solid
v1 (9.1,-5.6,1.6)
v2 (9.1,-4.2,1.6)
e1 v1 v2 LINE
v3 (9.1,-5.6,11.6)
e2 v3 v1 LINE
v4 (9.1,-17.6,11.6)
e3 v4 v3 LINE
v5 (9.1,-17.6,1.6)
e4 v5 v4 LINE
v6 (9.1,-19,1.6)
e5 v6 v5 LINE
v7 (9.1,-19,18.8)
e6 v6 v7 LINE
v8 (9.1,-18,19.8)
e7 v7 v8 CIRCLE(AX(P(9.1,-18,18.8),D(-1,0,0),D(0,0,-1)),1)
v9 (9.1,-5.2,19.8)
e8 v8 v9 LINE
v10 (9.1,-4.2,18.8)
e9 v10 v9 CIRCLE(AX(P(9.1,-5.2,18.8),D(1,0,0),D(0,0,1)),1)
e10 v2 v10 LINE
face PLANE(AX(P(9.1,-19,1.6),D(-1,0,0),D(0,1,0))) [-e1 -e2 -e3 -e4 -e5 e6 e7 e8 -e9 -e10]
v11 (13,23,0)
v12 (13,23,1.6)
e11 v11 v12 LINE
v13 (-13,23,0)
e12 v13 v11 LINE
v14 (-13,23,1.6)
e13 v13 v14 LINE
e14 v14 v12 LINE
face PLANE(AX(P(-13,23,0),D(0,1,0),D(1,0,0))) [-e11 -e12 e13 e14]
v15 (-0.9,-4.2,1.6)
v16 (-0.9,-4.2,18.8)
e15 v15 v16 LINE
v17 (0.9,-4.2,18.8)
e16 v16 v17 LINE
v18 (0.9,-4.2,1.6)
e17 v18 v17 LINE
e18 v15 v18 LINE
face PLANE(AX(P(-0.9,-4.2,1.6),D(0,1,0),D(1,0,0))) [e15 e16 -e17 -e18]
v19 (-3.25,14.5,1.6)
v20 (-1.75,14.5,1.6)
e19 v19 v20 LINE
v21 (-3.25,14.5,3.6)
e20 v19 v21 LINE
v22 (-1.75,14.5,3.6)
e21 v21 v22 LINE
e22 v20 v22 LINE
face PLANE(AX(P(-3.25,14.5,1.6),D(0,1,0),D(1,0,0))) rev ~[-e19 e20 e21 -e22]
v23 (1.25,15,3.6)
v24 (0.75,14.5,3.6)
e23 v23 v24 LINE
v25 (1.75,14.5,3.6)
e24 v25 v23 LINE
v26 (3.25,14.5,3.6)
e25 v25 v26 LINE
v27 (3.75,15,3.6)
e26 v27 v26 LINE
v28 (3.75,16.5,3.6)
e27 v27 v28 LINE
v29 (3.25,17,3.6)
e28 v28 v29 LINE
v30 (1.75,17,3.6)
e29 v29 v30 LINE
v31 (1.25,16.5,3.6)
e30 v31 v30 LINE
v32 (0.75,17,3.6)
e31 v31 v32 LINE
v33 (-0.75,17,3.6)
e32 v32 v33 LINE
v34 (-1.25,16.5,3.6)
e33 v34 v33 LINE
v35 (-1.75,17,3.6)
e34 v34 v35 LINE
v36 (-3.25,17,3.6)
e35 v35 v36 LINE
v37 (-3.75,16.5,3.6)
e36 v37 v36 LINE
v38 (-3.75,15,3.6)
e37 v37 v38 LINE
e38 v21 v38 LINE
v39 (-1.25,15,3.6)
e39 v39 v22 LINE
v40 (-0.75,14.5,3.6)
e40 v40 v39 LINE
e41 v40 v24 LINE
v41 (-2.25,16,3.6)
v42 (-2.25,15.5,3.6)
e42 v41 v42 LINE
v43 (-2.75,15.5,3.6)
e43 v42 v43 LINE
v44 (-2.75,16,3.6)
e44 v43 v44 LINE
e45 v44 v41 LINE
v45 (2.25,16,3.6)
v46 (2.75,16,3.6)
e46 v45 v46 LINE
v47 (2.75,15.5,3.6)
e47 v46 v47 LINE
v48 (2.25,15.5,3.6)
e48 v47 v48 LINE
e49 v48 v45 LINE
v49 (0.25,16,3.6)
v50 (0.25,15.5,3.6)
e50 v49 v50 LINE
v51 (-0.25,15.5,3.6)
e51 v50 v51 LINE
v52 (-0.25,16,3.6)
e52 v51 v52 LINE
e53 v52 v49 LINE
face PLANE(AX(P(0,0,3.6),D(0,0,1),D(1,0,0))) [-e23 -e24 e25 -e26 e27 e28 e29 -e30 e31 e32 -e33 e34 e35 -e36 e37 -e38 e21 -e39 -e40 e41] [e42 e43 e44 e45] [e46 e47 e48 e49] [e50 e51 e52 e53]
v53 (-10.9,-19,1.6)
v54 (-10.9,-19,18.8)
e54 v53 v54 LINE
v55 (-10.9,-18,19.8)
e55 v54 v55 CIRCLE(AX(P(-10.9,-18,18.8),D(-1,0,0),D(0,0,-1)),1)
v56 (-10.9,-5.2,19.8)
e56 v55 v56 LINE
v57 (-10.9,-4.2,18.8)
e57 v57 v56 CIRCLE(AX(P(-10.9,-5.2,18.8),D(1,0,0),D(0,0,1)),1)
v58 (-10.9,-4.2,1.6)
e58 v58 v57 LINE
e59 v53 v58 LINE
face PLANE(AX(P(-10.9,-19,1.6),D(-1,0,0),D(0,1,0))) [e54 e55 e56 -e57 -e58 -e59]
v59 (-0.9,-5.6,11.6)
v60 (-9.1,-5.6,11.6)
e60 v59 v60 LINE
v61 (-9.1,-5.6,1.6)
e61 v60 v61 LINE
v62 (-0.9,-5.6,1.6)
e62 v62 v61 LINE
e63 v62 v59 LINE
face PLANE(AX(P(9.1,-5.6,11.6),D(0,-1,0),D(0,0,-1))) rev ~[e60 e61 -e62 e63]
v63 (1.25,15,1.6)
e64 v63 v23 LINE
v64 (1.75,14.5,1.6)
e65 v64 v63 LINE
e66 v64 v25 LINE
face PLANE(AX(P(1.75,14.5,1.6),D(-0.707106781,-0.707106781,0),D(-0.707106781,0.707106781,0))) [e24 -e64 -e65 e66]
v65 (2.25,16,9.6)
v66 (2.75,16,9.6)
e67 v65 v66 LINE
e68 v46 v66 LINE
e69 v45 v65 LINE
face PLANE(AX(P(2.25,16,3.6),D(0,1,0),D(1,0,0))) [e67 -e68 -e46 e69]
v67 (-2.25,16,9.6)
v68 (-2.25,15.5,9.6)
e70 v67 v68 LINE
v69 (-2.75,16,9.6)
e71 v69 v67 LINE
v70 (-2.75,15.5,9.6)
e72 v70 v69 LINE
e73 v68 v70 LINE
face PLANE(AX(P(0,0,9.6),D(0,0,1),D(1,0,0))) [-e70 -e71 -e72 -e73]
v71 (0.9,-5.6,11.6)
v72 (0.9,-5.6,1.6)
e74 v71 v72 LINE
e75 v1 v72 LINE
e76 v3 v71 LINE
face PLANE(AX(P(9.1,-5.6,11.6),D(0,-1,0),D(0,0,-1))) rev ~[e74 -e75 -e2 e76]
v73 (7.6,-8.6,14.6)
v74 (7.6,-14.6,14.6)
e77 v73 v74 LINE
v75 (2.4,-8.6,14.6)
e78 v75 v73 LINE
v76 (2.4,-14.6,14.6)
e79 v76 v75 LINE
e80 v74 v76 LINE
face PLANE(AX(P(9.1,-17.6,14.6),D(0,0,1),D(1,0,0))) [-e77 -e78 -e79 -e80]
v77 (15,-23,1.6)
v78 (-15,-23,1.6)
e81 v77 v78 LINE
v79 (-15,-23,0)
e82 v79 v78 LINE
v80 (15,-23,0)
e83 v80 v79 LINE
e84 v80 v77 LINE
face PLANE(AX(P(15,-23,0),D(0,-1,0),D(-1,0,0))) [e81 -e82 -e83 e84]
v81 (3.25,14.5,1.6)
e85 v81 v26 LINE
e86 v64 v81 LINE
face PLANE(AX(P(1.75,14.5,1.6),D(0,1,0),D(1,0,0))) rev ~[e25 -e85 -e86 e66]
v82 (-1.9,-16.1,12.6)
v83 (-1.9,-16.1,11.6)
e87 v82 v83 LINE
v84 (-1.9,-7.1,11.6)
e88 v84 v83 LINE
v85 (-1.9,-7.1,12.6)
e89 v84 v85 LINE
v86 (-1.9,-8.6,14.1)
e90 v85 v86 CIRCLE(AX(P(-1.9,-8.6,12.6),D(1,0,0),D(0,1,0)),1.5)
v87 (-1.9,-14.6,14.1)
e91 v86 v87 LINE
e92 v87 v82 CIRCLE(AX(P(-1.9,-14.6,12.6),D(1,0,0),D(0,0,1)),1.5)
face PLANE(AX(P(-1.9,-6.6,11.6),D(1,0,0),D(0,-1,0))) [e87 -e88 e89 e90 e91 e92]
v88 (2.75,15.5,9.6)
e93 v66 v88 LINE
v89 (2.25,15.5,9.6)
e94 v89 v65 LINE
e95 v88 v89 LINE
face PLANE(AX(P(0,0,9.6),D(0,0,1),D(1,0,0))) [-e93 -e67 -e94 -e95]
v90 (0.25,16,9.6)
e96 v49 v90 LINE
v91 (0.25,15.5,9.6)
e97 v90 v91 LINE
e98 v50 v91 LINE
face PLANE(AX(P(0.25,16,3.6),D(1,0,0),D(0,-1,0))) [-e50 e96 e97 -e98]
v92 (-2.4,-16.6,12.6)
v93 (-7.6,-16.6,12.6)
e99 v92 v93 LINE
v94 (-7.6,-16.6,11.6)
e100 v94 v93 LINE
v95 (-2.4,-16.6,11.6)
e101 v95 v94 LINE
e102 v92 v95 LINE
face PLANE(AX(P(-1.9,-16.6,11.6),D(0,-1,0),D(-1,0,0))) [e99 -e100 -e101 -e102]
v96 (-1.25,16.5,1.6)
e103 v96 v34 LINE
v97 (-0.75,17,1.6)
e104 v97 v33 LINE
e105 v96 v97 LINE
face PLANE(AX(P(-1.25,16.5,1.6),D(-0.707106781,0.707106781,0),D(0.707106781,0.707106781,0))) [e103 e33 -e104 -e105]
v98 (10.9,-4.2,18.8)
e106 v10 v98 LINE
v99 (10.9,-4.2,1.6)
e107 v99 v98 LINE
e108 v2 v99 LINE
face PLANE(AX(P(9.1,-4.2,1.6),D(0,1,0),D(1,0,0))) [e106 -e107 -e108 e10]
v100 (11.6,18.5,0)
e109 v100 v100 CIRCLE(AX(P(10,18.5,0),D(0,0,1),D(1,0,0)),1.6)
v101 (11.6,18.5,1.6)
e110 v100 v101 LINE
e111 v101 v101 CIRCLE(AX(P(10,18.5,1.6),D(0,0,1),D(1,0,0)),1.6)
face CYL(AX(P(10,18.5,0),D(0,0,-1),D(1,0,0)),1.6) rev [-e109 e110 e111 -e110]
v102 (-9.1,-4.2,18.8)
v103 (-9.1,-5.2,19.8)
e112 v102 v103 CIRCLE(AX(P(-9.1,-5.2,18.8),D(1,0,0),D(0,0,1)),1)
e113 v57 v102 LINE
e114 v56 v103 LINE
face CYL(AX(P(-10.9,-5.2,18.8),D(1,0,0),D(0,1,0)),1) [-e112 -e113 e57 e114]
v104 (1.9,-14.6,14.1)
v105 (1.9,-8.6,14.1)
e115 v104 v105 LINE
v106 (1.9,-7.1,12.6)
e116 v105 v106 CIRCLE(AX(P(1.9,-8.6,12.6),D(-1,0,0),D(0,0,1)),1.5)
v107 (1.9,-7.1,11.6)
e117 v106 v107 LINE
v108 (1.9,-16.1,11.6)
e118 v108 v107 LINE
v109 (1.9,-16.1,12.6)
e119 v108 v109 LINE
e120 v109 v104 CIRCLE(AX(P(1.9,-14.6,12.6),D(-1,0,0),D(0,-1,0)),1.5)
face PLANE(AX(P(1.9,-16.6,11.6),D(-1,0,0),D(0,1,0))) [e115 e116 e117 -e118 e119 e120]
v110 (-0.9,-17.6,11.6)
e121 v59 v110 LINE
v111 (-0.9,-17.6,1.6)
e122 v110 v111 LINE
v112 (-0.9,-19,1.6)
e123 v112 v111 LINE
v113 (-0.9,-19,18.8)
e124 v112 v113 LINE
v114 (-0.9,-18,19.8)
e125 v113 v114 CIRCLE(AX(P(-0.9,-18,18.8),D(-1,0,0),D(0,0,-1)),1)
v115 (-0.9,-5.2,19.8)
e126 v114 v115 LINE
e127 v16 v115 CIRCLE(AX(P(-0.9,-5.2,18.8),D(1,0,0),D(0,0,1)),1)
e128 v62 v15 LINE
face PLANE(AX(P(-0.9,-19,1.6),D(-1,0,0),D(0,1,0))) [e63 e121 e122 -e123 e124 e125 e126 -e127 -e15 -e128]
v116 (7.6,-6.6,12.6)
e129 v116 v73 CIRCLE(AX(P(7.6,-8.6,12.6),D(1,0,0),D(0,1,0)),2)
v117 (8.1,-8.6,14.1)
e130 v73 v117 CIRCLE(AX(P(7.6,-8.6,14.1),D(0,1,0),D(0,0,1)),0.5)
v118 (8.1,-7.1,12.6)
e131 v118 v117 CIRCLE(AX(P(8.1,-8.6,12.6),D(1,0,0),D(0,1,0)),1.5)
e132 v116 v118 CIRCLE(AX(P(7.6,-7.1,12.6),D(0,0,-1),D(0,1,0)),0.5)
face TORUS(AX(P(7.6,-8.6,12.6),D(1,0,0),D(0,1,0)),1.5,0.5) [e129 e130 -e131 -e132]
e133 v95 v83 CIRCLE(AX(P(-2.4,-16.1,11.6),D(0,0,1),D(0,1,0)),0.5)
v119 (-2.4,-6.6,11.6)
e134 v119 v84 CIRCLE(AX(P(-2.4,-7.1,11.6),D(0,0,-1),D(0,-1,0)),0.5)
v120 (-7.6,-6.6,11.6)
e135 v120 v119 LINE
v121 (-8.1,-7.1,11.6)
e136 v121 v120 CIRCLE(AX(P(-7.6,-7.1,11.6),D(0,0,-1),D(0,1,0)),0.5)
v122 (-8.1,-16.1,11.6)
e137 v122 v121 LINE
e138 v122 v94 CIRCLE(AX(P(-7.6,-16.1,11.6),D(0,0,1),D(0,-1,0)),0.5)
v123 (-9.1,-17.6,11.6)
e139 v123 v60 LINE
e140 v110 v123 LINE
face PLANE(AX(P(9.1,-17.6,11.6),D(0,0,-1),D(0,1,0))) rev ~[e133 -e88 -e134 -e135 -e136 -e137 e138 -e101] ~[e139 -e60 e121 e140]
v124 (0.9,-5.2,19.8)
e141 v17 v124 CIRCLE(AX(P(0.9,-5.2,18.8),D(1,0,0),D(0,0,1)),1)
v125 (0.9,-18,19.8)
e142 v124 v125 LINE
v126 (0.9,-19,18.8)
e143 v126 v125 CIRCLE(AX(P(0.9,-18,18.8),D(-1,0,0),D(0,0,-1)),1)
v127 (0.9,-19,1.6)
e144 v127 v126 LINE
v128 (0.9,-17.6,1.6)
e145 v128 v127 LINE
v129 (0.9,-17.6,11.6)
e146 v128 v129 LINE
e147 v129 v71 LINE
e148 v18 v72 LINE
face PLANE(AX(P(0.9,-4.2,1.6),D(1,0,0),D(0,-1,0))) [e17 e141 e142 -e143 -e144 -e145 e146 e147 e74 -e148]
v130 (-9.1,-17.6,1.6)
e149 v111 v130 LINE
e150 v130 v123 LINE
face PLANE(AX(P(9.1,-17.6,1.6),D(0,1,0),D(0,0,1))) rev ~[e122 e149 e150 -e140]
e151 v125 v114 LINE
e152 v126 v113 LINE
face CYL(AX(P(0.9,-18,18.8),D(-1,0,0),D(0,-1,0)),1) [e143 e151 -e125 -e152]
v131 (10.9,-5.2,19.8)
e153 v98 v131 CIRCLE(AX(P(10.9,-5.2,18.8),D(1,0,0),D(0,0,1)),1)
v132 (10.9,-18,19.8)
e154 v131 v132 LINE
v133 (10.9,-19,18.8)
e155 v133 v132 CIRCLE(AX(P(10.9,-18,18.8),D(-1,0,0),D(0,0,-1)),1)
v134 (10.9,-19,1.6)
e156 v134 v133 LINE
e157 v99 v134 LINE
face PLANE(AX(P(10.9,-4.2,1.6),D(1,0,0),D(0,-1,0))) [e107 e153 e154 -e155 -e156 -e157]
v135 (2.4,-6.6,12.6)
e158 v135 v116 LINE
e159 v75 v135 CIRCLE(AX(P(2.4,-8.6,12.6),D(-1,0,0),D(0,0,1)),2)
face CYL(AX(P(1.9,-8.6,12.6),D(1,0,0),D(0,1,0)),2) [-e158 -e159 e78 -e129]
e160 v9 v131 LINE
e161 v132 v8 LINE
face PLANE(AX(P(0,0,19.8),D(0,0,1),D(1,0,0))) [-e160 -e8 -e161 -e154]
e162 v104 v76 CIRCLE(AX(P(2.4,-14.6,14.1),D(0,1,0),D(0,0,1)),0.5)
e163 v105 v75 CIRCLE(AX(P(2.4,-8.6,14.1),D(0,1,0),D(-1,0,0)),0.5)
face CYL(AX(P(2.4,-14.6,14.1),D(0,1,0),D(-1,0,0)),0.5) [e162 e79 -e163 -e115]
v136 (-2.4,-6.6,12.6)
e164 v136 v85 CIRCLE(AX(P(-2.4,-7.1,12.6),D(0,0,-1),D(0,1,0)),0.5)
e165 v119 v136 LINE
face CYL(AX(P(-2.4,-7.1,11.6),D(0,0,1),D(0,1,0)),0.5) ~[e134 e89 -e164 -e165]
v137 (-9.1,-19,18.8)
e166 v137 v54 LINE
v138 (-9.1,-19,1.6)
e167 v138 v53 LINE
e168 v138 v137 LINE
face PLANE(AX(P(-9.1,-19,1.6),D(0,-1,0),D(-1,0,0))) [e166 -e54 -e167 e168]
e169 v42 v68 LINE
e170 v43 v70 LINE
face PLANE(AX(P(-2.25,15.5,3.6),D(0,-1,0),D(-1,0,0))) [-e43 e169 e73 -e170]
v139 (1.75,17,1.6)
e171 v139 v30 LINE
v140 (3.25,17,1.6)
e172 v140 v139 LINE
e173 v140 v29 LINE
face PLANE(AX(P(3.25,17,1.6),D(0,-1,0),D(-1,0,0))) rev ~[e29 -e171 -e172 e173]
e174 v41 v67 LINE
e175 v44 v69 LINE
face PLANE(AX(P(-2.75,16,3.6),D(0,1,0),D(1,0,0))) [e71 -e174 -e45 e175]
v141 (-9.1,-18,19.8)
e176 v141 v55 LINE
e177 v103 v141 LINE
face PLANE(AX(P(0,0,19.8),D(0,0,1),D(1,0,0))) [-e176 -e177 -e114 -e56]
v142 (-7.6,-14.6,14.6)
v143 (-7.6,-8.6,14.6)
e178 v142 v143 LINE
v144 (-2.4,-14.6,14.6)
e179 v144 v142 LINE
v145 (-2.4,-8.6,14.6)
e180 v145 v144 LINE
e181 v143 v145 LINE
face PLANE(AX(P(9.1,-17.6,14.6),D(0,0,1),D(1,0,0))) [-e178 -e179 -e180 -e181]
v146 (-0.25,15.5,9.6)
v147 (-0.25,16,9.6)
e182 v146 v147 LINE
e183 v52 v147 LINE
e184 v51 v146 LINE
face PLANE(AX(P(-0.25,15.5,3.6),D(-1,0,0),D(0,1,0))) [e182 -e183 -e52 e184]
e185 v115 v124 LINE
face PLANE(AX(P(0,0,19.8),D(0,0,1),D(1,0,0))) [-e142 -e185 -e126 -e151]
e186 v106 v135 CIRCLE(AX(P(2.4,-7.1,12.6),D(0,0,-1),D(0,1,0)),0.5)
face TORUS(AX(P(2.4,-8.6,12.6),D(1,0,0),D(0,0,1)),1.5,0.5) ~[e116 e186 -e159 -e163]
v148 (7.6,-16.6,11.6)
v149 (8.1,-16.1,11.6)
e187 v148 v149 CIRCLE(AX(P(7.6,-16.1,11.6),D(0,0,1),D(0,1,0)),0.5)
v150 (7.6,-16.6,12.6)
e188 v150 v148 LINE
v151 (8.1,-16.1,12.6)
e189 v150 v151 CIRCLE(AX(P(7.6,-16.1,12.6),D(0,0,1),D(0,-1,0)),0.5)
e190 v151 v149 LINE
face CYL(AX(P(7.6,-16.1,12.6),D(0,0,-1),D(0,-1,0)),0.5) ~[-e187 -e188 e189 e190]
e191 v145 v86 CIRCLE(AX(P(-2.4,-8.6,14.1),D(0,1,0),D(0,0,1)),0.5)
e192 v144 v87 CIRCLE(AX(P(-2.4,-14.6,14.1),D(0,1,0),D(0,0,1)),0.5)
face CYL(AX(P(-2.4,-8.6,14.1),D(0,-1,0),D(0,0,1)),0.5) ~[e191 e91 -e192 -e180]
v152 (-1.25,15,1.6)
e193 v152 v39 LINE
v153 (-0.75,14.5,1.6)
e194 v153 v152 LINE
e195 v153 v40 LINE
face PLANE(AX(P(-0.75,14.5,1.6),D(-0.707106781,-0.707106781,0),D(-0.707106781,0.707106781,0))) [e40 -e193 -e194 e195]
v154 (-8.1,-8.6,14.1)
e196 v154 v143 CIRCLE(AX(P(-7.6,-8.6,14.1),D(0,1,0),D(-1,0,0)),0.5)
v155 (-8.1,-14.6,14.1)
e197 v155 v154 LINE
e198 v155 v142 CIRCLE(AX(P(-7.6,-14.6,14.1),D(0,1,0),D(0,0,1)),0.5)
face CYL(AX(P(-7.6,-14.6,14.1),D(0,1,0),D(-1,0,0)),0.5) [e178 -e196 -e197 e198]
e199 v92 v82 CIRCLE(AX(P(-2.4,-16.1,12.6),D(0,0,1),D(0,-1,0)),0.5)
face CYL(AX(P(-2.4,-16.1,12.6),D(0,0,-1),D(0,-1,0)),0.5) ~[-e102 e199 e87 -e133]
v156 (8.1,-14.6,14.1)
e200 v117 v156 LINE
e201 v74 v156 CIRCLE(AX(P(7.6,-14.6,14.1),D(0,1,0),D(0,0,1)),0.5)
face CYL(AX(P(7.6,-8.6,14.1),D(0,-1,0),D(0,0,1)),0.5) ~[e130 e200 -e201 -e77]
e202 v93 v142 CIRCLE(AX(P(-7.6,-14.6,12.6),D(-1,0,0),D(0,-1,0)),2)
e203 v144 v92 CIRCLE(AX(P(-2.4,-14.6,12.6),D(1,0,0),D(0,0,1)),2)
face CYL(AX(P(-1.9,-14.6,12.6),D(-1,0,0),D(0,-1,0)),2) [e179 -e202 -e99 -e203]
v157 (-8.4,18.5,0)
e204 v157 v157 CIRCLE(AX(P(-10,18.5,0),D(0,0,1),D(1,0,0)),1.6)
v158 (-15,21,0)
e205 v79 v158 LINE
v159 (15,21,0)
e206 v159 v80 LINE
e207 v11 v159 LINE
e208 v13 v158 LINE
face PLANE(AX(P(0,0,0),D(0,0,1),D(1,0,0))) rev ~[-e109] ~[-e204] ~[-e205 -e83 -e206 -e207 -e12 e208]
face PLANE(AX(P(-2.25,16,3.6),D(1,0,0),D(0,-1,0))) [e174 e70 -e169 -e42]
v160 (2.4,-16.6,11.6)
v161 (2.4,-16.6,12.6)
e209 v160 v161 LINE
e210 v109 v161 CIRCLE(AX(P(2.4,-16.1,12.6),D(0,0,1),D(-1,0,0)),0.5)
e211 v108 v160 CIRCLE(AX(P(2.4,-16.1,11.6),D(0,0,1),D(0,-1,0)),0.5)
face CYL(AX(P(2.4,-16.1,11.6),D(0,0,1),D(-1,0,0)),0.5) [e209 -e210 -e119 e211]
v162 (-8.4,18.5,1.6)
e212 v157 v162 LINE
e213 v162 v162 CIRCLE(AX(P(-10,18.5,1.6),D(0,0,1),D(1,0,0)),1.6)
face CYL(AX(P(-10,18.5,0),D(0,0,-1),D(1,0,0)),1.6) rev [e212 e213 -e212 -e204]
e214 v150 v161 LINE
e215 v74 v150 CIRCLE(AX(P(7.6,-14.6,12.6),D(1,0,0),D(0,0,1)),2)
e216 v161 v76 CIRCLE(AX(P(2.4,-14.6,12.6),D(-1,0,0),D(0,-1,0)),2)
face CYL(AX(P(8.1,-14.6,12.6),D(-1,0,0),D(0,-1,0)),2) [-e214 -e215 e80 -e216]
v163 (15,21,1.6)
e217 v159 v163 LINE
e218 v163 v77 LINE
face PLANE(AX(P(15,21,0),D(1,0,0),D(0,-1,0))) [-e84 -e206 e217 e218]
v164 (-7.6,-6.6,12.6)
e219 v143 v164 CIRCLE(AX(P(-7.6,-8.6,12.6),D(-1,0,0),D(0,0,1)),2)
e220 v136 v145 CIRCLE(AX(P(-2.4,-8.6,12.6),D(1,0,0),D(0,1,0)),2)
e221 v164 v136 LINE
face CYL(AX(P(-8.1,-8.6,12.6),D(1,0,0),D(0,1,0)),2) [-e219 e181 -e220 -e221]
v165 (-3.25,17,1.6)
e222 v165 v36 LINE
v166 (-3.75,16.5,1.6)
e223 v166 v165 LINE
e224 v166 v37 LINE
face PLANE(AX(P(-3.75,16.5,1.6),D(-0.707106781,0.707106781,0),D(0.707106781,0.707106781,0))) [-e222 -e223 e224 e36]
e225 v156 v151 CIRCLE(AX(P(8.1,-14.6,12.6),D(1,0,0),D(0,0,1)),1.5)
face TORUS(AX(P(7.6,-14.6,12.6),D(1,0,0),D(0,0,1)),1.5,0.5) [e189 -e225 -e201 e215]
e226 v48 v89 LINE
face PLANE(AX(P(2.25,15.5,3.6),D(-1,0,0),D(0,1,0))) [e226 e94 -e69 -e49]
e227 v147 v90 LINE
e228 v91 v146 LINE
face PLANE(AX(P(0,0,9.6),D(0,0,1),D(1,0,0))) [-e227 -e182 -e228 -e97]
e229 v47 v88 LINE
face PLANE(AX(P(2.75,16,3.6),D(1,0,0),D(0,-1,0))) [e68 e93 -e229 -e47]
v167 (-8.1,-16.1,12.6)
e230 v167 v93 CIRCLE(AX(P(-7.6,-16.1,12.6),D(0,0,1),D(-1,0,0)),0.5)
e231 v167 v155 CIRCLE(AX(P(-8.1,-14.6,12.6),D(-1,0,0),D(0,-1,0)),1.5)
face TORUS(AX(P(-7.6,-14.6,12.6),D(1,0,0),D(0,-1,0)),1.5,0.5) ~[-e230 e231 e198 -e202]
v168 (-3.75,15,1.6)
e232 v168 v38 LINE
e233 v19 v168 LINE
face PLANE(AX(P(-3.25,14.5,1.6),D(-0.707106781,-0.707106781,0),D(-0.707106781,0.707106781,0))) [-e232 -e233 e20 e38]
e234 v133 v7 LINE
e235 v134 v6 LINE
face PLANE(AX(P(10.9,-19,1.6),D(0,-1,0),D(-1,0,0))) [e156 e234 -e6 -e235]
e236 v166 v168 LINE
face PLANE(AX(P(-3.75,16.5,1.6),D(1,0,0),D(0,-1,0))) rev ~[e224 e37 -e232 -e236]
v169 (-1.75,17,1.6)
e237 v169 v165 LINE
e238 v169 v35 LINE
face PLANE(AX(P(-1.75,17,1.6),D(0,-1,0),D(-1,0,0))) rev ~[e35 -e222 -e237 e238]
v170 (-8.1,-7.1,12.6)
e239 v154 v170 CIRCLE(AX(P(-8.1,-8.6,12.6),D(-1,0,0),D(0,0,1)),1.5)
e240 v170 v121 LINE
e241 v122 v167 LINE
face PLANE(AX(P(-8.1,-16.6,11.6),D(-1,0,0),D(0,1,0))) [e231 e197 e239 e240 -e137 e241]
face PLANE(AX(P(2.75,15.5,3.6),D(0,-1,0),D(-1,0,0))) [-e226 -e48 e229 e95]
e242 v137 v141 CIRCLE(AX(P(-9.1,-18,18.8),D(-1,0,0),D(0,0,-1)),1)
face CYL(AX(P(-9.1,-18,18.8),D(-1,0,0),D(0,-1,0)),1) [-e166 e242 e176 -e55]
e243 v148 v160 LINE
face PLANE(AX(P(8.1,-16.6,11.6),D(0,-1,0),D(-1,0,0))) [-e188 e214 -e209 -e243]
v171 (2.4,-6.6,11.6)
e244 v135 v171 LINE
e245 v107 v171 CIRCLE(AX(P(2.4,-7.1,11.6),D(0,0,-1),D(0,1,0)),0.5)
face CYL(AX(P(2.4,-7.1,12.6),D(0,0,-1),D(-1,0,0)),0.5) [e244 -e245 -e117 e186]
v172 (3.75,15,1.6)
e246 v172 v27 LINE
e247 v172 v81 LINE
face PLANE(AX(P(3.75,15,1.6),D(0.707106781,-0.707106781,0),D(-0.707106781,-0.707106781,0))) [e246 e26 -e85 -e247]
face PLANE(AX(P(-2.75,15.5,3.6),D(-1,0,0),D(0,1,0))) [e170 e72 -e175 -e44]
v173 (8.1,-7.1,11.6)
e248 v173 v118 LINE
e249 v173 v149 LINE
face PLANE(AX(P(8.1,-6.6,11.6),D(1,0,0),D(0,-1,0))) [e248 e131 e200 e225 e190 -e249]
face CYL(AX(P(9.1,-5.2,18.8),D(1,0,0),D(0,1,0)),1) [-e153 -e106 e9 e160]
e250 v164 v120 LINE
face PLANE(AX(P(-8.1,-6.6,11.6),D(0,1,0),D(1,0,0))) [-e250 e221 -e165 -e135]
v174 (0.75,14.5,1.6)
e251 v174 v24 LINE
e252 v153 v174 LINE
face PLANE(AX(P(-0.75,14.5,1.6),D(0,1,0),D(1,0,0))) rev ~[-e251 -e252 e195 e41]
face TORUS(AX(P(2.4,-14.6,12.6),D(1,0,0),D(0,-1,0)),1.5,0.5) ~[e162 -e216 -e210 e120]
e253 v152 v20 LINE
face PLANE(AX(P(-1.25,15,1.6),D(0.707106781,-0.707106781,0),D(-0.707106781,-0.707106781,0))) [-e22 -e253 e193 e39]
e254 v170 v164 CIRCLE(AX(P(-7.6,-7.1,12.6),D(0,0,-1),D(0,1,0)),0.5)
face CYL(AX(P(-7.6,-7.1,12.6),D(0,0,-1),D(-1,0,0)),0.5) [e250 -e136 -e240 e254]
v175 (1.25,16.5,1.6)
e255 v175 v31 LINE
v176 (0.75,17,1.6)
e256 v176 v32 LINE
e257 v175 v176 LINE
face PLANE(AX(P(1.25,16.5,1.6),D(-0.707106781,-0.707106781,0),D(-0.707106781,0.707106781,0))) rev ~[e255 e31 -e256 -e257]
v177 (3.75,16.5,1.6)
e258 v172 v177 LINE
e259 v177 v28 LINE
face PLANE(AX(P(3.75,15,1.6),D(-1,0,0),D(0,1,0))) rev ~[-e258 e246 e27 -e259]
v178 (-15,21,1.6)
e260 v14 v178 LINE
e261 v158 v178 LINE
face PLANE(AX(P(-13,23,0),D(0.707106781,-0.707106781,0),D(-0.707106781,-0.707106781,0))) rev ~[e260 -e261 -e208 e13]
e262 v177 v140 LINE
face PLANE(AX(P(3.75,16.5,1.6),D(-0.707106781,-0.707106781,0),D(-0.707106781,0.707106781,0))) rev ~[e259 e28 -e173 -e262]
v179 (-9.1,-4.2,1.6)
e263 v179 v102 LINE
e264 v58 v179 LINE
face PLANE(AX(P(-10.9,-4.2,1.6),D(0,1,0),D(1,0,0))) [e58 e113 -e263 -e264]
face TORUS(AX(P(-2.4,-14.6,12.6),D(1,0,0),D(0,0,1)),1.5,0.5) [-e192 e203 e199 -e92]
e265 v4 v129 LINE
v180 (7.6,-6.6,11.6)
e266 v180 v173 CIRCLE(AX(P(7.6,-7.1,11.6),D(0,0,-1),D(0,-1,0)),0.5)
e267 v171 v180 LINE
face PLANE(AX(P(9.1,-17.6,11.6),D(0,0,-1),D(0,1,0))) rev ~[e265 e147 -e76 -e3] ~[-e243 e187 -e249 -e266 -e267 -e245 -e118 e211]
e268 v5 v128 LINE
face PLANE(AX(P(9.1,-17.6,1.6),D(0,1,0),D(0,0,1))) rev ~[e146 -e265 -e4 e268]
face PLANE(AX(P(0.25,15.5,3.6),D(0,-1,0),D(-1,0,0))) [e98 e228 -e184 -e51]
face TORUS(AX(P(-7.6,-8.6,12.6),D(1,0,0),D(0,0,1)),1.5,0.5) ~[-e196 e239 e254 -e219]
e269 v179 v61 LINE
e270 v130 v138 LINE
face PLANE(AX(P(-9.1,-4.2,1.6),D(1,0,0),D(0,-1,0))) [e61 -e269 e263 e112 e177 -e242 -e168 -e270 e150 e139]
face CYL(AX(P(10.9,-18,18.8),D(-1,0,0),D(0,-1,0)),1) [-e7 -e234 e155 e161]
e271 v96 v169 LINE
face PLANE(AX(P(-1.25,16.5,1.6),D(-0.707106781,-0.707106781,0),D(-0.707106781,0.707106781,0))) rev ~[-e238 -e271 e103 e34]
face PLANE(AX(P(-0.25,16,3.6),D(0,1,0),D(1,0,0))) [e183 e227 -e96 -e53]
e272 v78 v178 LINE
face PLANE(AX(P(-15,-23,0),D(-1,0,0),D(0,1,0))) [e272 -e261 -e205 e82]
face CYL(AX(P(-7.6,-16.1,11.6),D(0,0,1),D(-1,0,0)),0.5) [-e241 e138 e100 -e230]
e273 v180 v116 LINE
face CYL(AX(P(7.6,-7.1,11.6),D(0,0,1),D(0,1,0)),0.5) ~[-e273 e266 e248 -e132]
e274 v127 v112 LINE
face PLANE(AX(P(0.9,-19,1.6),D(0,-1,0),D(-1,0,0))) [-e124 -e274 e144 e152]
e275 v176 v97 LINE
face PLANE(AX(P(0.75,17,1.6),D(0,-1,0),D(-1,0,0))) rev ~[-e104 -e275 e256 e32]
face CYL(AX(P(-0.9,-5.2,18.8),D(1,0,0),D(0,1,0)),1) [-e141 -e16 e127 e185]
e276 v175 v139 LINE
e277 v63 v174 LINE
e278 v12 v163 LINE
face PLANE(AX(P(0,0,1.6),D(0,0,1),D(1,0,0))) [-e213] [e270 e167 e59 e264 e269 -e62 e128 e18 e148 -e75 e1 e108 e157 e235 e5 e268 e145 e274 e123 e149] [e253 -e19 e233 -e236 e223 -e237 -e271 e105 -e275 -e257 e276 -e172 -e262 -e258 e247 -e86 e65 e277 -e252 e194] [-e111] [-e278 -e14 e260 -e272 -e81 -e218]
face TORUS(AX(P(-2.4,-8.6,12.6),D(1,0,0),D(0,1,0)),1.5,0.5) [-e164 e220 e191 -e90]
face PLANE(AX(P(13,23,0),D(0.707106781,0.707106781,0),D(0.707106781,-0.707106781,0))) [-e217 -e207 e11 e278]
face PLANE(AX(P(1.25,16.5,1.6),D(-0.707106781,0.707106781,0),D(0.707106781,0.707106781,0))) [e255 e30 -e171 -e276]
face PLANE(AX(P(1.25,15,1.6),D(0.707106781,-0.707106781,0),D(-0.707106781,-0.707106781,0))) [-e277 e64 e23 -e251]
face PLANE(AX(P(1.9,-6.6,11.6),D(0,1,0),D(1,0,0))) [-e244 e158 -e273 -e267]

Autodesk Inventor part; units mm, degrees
ref_plane "YZ Plane" through (0, 0, 0) normal (1, 0, 0) x (0, 1, 0)
ref_plane "XZ Plane" through (0, 0, 0) normal (0, 1, 0) x (-1, 0, 0)
ref_plane "XY Plane" through (0, 0, 0) normal (0, 0, 1) x (1, 0, 0)
sketch "Sketch1" plane through (0, 0, 0) normal (0, 0, 1) x (1, 0, 0)
  line L0 (-13, 23) -> (13, 23)
  line L1 (15, 21) -> (15, -23)
  line L2 (15, -23) -> (-15, -23)
  line L3 (-15, -23) -> (-15, 21)
  line L4 (-15, 23) -> (15, -23) construction
  line L5 (15, 23) -> (-15, -23) construction
  line L6 (-13, 23) -> (-15, 21)
  line L7 (13, 23) -> (15, 21)
  circle A0 centre (-10, 18.5) radius 1.6
  circle A1 centre (10, 18.5) radius 1.6
  line L8 (10, 18.5) -> (-10, 18.5) construction
  point P0 (0, 0)
  point P1 (0, 18.5)
  point P2 (0, 0)
  dimension "d0" = 30
  dimension "d1" = 46
  dimension "d2" = 2
  dimension "d3" = 2
  dimension "d4" = 2
  dimension "d5" = 2
  dimension "d6" = 3.2
  dimension "d7" = 20
  dimension "d8" = 4.5
extrude "Extrusion1" add sketch "Sketch1" along normal blind 1.6
sketch "Sketch2" plane through (0, 0, 1.6) normal (0, 0, 1) x (1, 0, 0)
  line L0 (10.9, -19) -> (9.1, -19)
  line L1 (9.1, -19) -> (9.1, -4.2)
  line L2 (9.1, -4.2) -> (10.9, -4.2)
  line L3 (10.9, -4.2) -> (10.9, -19)
  line L4 (0.9, -19) -> (-0.9, -19)
  line L5 (-0.9, -19) -> (-0.9, -4.2)
  line L6 (-0.9, -4.2) -> (0.9, -4.2)
  line L7 (0.9, -4.2) -> (0.9, -19)
  line L8 (-9.1, -19) -> (-10.9, -19)
  line L9 (-10.9, -19) -> (-10.9, -4.2)
  line L10 (-10.9, -4.2) -> (-9.1, -4.2)
  line L11 (-9.1, -4.2) -> (-9.1, -19)
  line L12 (-15, 21) -> (-15, -23) projected
  line L13 (-15, -23) -> (15, -23) projected
  line L14 (15, -23) -> (15, 21) projected
  line L15 (15, 21) -> (13, 23) projected
  line L16 (13, 23) -> (-13, 23) projected
  line L17 (-13, 23) -> (-15, 21) projected
  circle A0 centre (10, 18.5) radius 1.6 projected
  circle A1 centre (-10, 18.5) radius 1.6 projected
  line L18 (-0.9, -4.2) -> (0.9, -19) construction
  line L19 (0.9, -4.2) -> (-0.9, -19) construction
  line L20 (10.9, -4.2) -> (9.1, -19) construction
  line L21 (9.1, -4.2) -> (10.9, -19) construction
  line L22 (-10.9, -4.2) -> (-9.1, -19) construction
  line L23 (-9.1, -4.2) -> (-10.9, -19) construction
  point P0 (0, 0)
  point P1 (0, -11.6)
  dimension "d11" = 1.8
  dimension "d12" = 14.8
  dimension "d13" = 4
  dimension "d14" = 8.2
  dimension "d15" = 8.2
extrude "Extrusion2" add sketch "Sketch2" along normal blind 18.2 contours L0 L1 L2 L3 | L4 L5 L6 L7 | L8 L9 L10 L11
fillet "Fillet1" radius 1 6 edges at (-10, -19, 19.8) (-10, -4.2, 19.8) (0, -4.2, 19.8) (0, -19, 19.8) (10, -19, 19.8) (10, -4.2, 19.8)
sketch "Sketch3" plane through (9.1, -19, 1.6) normal (-1, 0, 0) x (0, 0, 1)
  arc A0 (18.2, 13.8) -> (17.2, 14.8) centre (17.2, 13.8) ccw projected
  line L0 (0, 14.8) -> (17.2, 14.8) projected
  line L1 (0, 0) -> (0, 14.8) projected
  line L2 (0, 0) -> (17.2, 0) projected
  arc A1 (17.2, 0) -> (18.2, 1) centre (17.2, 1) ccw projected
  line L3 (18.2, 13.8) -> (18.2, 1) projected
  line L4 (0, 0) -> (0, 14.8) projected
  line L5 (10, 13.4) -> (0, 13.4)
  line L6 (0, 13.4) -> (0, 1.4)
  line L7 (0, 1.4) -> (10, 1.4)
  line L8 (10, 1.4) -> (10, 13.4)
  line L9 (10, 13.4) -> (0, 1.4) construction
  line L10 (0, 13.4) -> (10, 1.4) construction
  point P0 (-1.6, 19)
  point P1 (5, 7.4)
  point P2 (5, 7.4)
  point P3 (18.2, 7.4)
  point P4 (0, 13.4)
  point P5 (0, 1.4)
  dimension "d19" = 10
  dimension "d20" = 12
extrude "Extrusion3" add sketch "Sketch3" along normal up to surface (18.2 mm away) contours L5 L8 L7 L1
sketch "Sketch4" plane through (0, 0, 1.6) normal (0, 0, 1) x (1, 0, 0)
  circle A0 centre (-10, 18.5) radius 1.6 projected
  circle A1 centre (10, 18.5) radius 1.6 projected
  line L0 (-15, 21) -> (-15, -23) projected
  line L1 (-15, -23) -> (15, -23) projected
  line L2 (15, -23) -> (15, 21) projected
  line L3 (15, 21) -> (13, 23) projected
  line L4 (13, 23) -> (-13, 23) projected
  line L5 (-13, 23) -> (-15, 21) projected
  line L6 (-0.9, -17.6) -> (-9.1, -17.6) projected
  line L7 (-9.1, -17.6) -> (-9.1, -19) projected
  line L8 (-9.1, -19) -> (-10.9, -19) projected
  line L9 (-10.9, -19) -> (-10.9, -4.2) projected
  line L10 (-10.9, -4.2) -> (-9.1, -4.2) projected
  line L11 (-9.1, -4.2) -> (-9.1, -5.6) projected
  line L12 (-9.1, -5.6) -> (-0.9, -5.6) projected
  line L13 (-0.9, -5.6) -> (-0.9, -4.2) projected
  line L14 (-0.9, -4.2) -> (0.9, -4.2) projected
  line L15 (0.9, -4.2) -> (0.9, -5.6) projected
  line L16 (0.9, -5.6) -> (9.1, -5.6) projected
  line L17 (9.1, -5.6) -> (9.1, -4.2) projected
  line L18 (9.1, -4.2) -> (10.9, -4.2) projected
  line L19 (10.9, -4.2) -> (10.9, -19) projected
  line L20 (10.9, -19) -> (9.1, -19) projected
  line L21 (9.1, -19) -> (9.1, -17.6) projected
  line L22 (9.1, -17.6) -> (0.9, -17.6) projected
  line L23 (0.9, -17.6) -> (0.9, -19) projected
  line L24 (0.9, -19) -> (-0.9, -19) projected
  line L25 (-0.9, -19) -> (-0.9, -17.6) projected
  line L26 (0.75, 17) -> (-0.75, 17)
  line L27 (-1.25, 16.5) -> (-1.25, 15)
  line L28 (-0.75, 14.5) -> (0.75, 14.5)
  line L29 (1.25, 15) -> (1.25, 16.5)
  line L30 (1.25, 16.5) -> (0.75, 17)
  line L31 (1.25, 15) -> (0.75, 14.5)
  line L32 (-0.75, 14.5) -> (-1.25, 15)
  line L33 (-1.25, 16.5) -> (-0.75, 17)
  line L34 (-3.75, 16.5) -> (-3.25, 17)
  line L35 (-3.75, 16.5) -> (-3.75, 15)
  line L36 (-3.25, 14.5) -> (-3.75, 15)
  line L37 (-1.75, 17) -> (-3.25, 17)
  line L38 (-3.25, 14.5) -> (-1.75, 14.5)
  line L39 (-1.25, 15) -> (-1.75, 14.5)
  line L40 (-1.25, 15) -> (-1.25, 16.5)
  line L41 (-1.25, 16.5) -> (-1.75, 17)
  line L42 (1.25, 16.5) -> (1.75, 17)
  line L43 (1.25, 16.5) -> (1.25, 15)
  line L44 (1.75, 14.5) -> (1.25, 15)
  line L45 (3.25, 17) -> (1.75, 17)
  line L46 (1.75, 14.5) -> (3.25, 14.5)
  line L47 (3.75, 15) -> (3.25, 14.5)
  line L48 (3.75, 15) -> (3.75, 16.5)
  line L49 (3.75, 16.5) -> (3.25, 17)
  line L50 (-1.25, 16.5) -> (-0.75, 17)
  line L51 (-1.25, 16.5) -> (-1.25, 15)
  line L52 (-0.75, 14.5) -> (-1.25, 15)
  line L53 (0.75, 17) -> (-0.75, 17)
  line L54 (-0.75, 14.5) -> (0.75, 14.5)
  line L55 (1.25, 15) -> (0.75, 14.5)
  line L56 (1.25, 15) -> (1.25, 16.5)
  line L57 (1.25, 16.5) -> (0.75, 17)
  point P0 (0, 0)
  point P1 (1.25, 17)
  point P2 (-1.25, 14.5)
  point P3 (-1.25, 17)
  point P4 (1.25, 14.5)
  point P5 (0, 17)
  point P6 (0, 23)
  point P7 (-3.75, 17)
  point P8 (-3.75, 14.5)
  point P9 (-2.5, 17)
  point P10 (-1.25, 17)
  point P11 (-1.25, 14.5)
  point P12 (1.25, 17)
  point P13 (1.25, 14.5)
  point P14 (2.5, 17)
  point P15 (3.75, 17)
  point P16 (3.75, 14.5)
  point P17 (-1.25, 17)
  point P18 (-1.25, 14.5)
  point P19 (0, 17)
  point P20 (1.25, 17)
  point P21 (1.25, 14.5)
  dimension "d23" = 2.5
  dimension "d24" = 2.5
  dimension "d25" = 0.5
  dimension "d26" = 0.5
  dimension "d27" = 0.5
  dimension "d28" = 0.5
  dimension "d29" = 0.5
  dimension "d30" = 0.5
  dimension "d31" = 0.5
  dimension "d32" = 0.5
  dimension "d33" = 6
  dimension "d36" = 2.5
  dimension "d39" = 2.5
extrude "Extrusion4" add sketch "Sketch4" along normal blind 2 contours L30 L29 L31 L28 L32 L27 L33 L26 | L42 L45 L49 L48 L47 L46 L44 L29 | L27 L39 L38 L36 L35 L34 L37 L41
sketch "Sketch5" plane through (0, 0, 3.6) normal (0, 0, 1) x (1, 0, 0)
  line L0 (1.25, 16.5) -> (0.75, 17) projected
  line L1 (0.75, 17) -> (-0.75, 17) projected
  line L2 (-0.75, 17) -> (-1.25, 16.5) projected
  line L3 (-1.25, 16.5) -> (-1.75, 17) projected
  line L4 (-1.75, 17) -> (-3.25, 17) projected
  line L5 (-3.25, 17) -> (-3.75, 16.5) projected
  line L6 (-3.75, 16.5) -> (-3.75, 15) projected
  line L7 (-3.75, 15) -> (-3.25, 14.5) projected
  line L8 (-3.25, 14.5) -> (-1.75, 14.5) projected
  line L9 (-1.75, 14.5) -> (-1.25, 15) projected
  line L10 (-1.25, 15) -> (-0.75, 14.5) projected
  line L11 (-0.75, 14.5) -> (0.75, 14.5) projected
  line L12 (0.75, 14.5) -> (1.25, 15) projected
  line L13 (1.25, 15) -> (1.75, 14.5) projected
  line L14 (1.75, 14.5) -> (3.25, 14.5) projected
  line L15 (3.25, 14.5) -> (3.75, 15) projected
  line L16 (3.75, 15) -> (3.75, 16.5) projected
  line L17 (3.75, 16.5) -> (3.25, 17) projected
  line L18 (3.25, 17) -> (1.75, 17) projected
  line L19 (1.75, 17) -> (1.25, 16.5) projected
  line L20 (-3.75, 16.5) -> (-3.75, 15) projected
  line L21 (2.75, 15.5) -> (2.25, 15.5)
  line L22 (2.25, 15.5) -> (2.25, 16)
  line L23 (2.25, 16) -> (2.75, 16)
  line L24 (2.75, 16) -> (2.75, 15.5)
  line L25 (2.75, 15.5) -> (2.25, 16) construction
  line L26 (2.25, 15.5) -> (2.75, 16) construction
  line L27 (0.25, 15.5) -> (-0.25, 15.5)
  line L28 (-0.25, 15.5) -> (-0.25, 16)
  line L29 (-0.25, 16) -> (0.25, 16)
  line L30 (0.25, 16) -> (0.25, 15.5)
  line L31 (0.25, 15.5) -> (-0.25, 16) construction
  line L32 (-0.25, 15.5) -> (0.25, 16) construction
  line L33 (-2.25, 15.5) -> (-2.75, 15.5)
  line L34 (-2.75, 15.5) -> (-2.75, 16)
  line L35 (-2.75, 16) -> (-2.25, 16)
  line L36 (-2.25, 16) -> (-2.25, 15.5)
  line L37 (-2.25, 15.5) -> (-2.75, 16) construction
  line L38 (-2.75, 15.5) -> (-2.25, 16) construction
  point P0 (0, 0)
  point P1 (2.5, 15.75)
  point P2 (0, 15.75)
  point P3 (-2.5, 15.75)
  point P4 (2.5, 14.5)
  point P5 (0, 14.5)
  point P6 (-2.5, 14.5)
  point P7 (-3.75, 15.75)
  point P8 (-3.75, 15.75)
  point P9 (3.75, 15.75)
  dimension "d44" = 0.5
  dimension "d45" = 0.5
  dimension "d46" = 0.5
  dimension "d47" = 0.5
  dimension "d48" = 0.5
  dimension "d49" = 0.5
extrude "Extrusion5" add sketch "Sketch5" along normal blind 6 contours L21 L22 L23 L24 | L27 L28 L29 L30 | L33 L34 L35 L36
sketch "Sketch6" plane through (9.1, -17.6, 11.6) normal (0, 0, 1) x (1, 0, 0)
  line L0 (-8.2, 0) -> (-8.2, 12) projected
  line L1 (0, 0) -> (-8.2, 0) projected
  line L2 (0, 12) -> (0, 0) projected
  line L3 (0, 12) -> (-8.2, 12) projected
  line L4 (-10, 12) -> (-10, 0) projected
  line L5 (-10, 12) -> (-18.2, 12) projected
  line L6 (-18.2, 0) -> (-18.2, 12) projected
  line L7 (-10, 0) -> (-18.2, 0) projected
  line L8 (-7.2, 1) -> (-7.2, 11)
  line L9 (-7.2, 11) -> (-1, 11)
  line L10 (-1, 11) -> (-1, 1)
  line L11 (-1, 1) -> (-7.2, 1)
  line L12 (-17.2, 1) -> (-17.2, 11)
  line L13 (-17.2, 11) -> (-11, 11)
  line L14 (-11, 11) -> (-11, 1)
  line L15 (-11, 1) -> (-17.2, 1)
  point P0 (-9.1, 17.6)
  dimension "d52" = 1
  dimension "d53" = 1
extrude "Extrusion6" add sketch "Sketch6" along normal blind 3 contours L8 L9 L10 L11 | L12 L13 L14 L15
fillet "Fillet2" radius 2 4 edges at (5, -6.6, 14.6) (5, -16.6, 14.6) (-5, -6.6, 14.6) (-5, -16.6, 14.6)
fillet "Fillet3" radius 0.5 20 edges at (8.1, -6.6, 12.1) (8.1, -11.6, 14.6) (8.1, -16.0142, 14.0142) (8.1, -16.6, 12.1) (8.1, -7.1858, 14.0142) (1.9, -11.6, 14.6) (1.9, -16.0142, 14.0142) (1.9, -16.6, 12.1) (1.9, -6.6, 12.1) (1.9, -7.1858, 14.0142) (-1.9, -6.6, 12.1) (-1.9, -11.6, 14.6) (-1.9, -16.0142, 14.0142) (-1.9, -16.6, 12.1) (-1.9, -7.1858, 14.0142) (-8.1, -11.6, 14.6) (-8.1, -16.0142, 14.0142) (-8.1, -16.6, 12.1) (-8.1, -6.6, 12.1) (-8.1, -7.1858, 14.0142)
equation "\"d3\" = d2"
equation "\"d4\" = d2"
equation "\"d5\" = d4"
equation "\"d15\" = d14"
equation "\"d26\" = d25"
equation "\"d27\" = d25"
equation "\"d28\" = d27"
equation "\"d29\" = d25"
equation "\"d30\" = d29"
equation "\"d31\" = d25"
equation "\"d32\" = d31"
properties part number "current sensor" material "ABS Plastic"
